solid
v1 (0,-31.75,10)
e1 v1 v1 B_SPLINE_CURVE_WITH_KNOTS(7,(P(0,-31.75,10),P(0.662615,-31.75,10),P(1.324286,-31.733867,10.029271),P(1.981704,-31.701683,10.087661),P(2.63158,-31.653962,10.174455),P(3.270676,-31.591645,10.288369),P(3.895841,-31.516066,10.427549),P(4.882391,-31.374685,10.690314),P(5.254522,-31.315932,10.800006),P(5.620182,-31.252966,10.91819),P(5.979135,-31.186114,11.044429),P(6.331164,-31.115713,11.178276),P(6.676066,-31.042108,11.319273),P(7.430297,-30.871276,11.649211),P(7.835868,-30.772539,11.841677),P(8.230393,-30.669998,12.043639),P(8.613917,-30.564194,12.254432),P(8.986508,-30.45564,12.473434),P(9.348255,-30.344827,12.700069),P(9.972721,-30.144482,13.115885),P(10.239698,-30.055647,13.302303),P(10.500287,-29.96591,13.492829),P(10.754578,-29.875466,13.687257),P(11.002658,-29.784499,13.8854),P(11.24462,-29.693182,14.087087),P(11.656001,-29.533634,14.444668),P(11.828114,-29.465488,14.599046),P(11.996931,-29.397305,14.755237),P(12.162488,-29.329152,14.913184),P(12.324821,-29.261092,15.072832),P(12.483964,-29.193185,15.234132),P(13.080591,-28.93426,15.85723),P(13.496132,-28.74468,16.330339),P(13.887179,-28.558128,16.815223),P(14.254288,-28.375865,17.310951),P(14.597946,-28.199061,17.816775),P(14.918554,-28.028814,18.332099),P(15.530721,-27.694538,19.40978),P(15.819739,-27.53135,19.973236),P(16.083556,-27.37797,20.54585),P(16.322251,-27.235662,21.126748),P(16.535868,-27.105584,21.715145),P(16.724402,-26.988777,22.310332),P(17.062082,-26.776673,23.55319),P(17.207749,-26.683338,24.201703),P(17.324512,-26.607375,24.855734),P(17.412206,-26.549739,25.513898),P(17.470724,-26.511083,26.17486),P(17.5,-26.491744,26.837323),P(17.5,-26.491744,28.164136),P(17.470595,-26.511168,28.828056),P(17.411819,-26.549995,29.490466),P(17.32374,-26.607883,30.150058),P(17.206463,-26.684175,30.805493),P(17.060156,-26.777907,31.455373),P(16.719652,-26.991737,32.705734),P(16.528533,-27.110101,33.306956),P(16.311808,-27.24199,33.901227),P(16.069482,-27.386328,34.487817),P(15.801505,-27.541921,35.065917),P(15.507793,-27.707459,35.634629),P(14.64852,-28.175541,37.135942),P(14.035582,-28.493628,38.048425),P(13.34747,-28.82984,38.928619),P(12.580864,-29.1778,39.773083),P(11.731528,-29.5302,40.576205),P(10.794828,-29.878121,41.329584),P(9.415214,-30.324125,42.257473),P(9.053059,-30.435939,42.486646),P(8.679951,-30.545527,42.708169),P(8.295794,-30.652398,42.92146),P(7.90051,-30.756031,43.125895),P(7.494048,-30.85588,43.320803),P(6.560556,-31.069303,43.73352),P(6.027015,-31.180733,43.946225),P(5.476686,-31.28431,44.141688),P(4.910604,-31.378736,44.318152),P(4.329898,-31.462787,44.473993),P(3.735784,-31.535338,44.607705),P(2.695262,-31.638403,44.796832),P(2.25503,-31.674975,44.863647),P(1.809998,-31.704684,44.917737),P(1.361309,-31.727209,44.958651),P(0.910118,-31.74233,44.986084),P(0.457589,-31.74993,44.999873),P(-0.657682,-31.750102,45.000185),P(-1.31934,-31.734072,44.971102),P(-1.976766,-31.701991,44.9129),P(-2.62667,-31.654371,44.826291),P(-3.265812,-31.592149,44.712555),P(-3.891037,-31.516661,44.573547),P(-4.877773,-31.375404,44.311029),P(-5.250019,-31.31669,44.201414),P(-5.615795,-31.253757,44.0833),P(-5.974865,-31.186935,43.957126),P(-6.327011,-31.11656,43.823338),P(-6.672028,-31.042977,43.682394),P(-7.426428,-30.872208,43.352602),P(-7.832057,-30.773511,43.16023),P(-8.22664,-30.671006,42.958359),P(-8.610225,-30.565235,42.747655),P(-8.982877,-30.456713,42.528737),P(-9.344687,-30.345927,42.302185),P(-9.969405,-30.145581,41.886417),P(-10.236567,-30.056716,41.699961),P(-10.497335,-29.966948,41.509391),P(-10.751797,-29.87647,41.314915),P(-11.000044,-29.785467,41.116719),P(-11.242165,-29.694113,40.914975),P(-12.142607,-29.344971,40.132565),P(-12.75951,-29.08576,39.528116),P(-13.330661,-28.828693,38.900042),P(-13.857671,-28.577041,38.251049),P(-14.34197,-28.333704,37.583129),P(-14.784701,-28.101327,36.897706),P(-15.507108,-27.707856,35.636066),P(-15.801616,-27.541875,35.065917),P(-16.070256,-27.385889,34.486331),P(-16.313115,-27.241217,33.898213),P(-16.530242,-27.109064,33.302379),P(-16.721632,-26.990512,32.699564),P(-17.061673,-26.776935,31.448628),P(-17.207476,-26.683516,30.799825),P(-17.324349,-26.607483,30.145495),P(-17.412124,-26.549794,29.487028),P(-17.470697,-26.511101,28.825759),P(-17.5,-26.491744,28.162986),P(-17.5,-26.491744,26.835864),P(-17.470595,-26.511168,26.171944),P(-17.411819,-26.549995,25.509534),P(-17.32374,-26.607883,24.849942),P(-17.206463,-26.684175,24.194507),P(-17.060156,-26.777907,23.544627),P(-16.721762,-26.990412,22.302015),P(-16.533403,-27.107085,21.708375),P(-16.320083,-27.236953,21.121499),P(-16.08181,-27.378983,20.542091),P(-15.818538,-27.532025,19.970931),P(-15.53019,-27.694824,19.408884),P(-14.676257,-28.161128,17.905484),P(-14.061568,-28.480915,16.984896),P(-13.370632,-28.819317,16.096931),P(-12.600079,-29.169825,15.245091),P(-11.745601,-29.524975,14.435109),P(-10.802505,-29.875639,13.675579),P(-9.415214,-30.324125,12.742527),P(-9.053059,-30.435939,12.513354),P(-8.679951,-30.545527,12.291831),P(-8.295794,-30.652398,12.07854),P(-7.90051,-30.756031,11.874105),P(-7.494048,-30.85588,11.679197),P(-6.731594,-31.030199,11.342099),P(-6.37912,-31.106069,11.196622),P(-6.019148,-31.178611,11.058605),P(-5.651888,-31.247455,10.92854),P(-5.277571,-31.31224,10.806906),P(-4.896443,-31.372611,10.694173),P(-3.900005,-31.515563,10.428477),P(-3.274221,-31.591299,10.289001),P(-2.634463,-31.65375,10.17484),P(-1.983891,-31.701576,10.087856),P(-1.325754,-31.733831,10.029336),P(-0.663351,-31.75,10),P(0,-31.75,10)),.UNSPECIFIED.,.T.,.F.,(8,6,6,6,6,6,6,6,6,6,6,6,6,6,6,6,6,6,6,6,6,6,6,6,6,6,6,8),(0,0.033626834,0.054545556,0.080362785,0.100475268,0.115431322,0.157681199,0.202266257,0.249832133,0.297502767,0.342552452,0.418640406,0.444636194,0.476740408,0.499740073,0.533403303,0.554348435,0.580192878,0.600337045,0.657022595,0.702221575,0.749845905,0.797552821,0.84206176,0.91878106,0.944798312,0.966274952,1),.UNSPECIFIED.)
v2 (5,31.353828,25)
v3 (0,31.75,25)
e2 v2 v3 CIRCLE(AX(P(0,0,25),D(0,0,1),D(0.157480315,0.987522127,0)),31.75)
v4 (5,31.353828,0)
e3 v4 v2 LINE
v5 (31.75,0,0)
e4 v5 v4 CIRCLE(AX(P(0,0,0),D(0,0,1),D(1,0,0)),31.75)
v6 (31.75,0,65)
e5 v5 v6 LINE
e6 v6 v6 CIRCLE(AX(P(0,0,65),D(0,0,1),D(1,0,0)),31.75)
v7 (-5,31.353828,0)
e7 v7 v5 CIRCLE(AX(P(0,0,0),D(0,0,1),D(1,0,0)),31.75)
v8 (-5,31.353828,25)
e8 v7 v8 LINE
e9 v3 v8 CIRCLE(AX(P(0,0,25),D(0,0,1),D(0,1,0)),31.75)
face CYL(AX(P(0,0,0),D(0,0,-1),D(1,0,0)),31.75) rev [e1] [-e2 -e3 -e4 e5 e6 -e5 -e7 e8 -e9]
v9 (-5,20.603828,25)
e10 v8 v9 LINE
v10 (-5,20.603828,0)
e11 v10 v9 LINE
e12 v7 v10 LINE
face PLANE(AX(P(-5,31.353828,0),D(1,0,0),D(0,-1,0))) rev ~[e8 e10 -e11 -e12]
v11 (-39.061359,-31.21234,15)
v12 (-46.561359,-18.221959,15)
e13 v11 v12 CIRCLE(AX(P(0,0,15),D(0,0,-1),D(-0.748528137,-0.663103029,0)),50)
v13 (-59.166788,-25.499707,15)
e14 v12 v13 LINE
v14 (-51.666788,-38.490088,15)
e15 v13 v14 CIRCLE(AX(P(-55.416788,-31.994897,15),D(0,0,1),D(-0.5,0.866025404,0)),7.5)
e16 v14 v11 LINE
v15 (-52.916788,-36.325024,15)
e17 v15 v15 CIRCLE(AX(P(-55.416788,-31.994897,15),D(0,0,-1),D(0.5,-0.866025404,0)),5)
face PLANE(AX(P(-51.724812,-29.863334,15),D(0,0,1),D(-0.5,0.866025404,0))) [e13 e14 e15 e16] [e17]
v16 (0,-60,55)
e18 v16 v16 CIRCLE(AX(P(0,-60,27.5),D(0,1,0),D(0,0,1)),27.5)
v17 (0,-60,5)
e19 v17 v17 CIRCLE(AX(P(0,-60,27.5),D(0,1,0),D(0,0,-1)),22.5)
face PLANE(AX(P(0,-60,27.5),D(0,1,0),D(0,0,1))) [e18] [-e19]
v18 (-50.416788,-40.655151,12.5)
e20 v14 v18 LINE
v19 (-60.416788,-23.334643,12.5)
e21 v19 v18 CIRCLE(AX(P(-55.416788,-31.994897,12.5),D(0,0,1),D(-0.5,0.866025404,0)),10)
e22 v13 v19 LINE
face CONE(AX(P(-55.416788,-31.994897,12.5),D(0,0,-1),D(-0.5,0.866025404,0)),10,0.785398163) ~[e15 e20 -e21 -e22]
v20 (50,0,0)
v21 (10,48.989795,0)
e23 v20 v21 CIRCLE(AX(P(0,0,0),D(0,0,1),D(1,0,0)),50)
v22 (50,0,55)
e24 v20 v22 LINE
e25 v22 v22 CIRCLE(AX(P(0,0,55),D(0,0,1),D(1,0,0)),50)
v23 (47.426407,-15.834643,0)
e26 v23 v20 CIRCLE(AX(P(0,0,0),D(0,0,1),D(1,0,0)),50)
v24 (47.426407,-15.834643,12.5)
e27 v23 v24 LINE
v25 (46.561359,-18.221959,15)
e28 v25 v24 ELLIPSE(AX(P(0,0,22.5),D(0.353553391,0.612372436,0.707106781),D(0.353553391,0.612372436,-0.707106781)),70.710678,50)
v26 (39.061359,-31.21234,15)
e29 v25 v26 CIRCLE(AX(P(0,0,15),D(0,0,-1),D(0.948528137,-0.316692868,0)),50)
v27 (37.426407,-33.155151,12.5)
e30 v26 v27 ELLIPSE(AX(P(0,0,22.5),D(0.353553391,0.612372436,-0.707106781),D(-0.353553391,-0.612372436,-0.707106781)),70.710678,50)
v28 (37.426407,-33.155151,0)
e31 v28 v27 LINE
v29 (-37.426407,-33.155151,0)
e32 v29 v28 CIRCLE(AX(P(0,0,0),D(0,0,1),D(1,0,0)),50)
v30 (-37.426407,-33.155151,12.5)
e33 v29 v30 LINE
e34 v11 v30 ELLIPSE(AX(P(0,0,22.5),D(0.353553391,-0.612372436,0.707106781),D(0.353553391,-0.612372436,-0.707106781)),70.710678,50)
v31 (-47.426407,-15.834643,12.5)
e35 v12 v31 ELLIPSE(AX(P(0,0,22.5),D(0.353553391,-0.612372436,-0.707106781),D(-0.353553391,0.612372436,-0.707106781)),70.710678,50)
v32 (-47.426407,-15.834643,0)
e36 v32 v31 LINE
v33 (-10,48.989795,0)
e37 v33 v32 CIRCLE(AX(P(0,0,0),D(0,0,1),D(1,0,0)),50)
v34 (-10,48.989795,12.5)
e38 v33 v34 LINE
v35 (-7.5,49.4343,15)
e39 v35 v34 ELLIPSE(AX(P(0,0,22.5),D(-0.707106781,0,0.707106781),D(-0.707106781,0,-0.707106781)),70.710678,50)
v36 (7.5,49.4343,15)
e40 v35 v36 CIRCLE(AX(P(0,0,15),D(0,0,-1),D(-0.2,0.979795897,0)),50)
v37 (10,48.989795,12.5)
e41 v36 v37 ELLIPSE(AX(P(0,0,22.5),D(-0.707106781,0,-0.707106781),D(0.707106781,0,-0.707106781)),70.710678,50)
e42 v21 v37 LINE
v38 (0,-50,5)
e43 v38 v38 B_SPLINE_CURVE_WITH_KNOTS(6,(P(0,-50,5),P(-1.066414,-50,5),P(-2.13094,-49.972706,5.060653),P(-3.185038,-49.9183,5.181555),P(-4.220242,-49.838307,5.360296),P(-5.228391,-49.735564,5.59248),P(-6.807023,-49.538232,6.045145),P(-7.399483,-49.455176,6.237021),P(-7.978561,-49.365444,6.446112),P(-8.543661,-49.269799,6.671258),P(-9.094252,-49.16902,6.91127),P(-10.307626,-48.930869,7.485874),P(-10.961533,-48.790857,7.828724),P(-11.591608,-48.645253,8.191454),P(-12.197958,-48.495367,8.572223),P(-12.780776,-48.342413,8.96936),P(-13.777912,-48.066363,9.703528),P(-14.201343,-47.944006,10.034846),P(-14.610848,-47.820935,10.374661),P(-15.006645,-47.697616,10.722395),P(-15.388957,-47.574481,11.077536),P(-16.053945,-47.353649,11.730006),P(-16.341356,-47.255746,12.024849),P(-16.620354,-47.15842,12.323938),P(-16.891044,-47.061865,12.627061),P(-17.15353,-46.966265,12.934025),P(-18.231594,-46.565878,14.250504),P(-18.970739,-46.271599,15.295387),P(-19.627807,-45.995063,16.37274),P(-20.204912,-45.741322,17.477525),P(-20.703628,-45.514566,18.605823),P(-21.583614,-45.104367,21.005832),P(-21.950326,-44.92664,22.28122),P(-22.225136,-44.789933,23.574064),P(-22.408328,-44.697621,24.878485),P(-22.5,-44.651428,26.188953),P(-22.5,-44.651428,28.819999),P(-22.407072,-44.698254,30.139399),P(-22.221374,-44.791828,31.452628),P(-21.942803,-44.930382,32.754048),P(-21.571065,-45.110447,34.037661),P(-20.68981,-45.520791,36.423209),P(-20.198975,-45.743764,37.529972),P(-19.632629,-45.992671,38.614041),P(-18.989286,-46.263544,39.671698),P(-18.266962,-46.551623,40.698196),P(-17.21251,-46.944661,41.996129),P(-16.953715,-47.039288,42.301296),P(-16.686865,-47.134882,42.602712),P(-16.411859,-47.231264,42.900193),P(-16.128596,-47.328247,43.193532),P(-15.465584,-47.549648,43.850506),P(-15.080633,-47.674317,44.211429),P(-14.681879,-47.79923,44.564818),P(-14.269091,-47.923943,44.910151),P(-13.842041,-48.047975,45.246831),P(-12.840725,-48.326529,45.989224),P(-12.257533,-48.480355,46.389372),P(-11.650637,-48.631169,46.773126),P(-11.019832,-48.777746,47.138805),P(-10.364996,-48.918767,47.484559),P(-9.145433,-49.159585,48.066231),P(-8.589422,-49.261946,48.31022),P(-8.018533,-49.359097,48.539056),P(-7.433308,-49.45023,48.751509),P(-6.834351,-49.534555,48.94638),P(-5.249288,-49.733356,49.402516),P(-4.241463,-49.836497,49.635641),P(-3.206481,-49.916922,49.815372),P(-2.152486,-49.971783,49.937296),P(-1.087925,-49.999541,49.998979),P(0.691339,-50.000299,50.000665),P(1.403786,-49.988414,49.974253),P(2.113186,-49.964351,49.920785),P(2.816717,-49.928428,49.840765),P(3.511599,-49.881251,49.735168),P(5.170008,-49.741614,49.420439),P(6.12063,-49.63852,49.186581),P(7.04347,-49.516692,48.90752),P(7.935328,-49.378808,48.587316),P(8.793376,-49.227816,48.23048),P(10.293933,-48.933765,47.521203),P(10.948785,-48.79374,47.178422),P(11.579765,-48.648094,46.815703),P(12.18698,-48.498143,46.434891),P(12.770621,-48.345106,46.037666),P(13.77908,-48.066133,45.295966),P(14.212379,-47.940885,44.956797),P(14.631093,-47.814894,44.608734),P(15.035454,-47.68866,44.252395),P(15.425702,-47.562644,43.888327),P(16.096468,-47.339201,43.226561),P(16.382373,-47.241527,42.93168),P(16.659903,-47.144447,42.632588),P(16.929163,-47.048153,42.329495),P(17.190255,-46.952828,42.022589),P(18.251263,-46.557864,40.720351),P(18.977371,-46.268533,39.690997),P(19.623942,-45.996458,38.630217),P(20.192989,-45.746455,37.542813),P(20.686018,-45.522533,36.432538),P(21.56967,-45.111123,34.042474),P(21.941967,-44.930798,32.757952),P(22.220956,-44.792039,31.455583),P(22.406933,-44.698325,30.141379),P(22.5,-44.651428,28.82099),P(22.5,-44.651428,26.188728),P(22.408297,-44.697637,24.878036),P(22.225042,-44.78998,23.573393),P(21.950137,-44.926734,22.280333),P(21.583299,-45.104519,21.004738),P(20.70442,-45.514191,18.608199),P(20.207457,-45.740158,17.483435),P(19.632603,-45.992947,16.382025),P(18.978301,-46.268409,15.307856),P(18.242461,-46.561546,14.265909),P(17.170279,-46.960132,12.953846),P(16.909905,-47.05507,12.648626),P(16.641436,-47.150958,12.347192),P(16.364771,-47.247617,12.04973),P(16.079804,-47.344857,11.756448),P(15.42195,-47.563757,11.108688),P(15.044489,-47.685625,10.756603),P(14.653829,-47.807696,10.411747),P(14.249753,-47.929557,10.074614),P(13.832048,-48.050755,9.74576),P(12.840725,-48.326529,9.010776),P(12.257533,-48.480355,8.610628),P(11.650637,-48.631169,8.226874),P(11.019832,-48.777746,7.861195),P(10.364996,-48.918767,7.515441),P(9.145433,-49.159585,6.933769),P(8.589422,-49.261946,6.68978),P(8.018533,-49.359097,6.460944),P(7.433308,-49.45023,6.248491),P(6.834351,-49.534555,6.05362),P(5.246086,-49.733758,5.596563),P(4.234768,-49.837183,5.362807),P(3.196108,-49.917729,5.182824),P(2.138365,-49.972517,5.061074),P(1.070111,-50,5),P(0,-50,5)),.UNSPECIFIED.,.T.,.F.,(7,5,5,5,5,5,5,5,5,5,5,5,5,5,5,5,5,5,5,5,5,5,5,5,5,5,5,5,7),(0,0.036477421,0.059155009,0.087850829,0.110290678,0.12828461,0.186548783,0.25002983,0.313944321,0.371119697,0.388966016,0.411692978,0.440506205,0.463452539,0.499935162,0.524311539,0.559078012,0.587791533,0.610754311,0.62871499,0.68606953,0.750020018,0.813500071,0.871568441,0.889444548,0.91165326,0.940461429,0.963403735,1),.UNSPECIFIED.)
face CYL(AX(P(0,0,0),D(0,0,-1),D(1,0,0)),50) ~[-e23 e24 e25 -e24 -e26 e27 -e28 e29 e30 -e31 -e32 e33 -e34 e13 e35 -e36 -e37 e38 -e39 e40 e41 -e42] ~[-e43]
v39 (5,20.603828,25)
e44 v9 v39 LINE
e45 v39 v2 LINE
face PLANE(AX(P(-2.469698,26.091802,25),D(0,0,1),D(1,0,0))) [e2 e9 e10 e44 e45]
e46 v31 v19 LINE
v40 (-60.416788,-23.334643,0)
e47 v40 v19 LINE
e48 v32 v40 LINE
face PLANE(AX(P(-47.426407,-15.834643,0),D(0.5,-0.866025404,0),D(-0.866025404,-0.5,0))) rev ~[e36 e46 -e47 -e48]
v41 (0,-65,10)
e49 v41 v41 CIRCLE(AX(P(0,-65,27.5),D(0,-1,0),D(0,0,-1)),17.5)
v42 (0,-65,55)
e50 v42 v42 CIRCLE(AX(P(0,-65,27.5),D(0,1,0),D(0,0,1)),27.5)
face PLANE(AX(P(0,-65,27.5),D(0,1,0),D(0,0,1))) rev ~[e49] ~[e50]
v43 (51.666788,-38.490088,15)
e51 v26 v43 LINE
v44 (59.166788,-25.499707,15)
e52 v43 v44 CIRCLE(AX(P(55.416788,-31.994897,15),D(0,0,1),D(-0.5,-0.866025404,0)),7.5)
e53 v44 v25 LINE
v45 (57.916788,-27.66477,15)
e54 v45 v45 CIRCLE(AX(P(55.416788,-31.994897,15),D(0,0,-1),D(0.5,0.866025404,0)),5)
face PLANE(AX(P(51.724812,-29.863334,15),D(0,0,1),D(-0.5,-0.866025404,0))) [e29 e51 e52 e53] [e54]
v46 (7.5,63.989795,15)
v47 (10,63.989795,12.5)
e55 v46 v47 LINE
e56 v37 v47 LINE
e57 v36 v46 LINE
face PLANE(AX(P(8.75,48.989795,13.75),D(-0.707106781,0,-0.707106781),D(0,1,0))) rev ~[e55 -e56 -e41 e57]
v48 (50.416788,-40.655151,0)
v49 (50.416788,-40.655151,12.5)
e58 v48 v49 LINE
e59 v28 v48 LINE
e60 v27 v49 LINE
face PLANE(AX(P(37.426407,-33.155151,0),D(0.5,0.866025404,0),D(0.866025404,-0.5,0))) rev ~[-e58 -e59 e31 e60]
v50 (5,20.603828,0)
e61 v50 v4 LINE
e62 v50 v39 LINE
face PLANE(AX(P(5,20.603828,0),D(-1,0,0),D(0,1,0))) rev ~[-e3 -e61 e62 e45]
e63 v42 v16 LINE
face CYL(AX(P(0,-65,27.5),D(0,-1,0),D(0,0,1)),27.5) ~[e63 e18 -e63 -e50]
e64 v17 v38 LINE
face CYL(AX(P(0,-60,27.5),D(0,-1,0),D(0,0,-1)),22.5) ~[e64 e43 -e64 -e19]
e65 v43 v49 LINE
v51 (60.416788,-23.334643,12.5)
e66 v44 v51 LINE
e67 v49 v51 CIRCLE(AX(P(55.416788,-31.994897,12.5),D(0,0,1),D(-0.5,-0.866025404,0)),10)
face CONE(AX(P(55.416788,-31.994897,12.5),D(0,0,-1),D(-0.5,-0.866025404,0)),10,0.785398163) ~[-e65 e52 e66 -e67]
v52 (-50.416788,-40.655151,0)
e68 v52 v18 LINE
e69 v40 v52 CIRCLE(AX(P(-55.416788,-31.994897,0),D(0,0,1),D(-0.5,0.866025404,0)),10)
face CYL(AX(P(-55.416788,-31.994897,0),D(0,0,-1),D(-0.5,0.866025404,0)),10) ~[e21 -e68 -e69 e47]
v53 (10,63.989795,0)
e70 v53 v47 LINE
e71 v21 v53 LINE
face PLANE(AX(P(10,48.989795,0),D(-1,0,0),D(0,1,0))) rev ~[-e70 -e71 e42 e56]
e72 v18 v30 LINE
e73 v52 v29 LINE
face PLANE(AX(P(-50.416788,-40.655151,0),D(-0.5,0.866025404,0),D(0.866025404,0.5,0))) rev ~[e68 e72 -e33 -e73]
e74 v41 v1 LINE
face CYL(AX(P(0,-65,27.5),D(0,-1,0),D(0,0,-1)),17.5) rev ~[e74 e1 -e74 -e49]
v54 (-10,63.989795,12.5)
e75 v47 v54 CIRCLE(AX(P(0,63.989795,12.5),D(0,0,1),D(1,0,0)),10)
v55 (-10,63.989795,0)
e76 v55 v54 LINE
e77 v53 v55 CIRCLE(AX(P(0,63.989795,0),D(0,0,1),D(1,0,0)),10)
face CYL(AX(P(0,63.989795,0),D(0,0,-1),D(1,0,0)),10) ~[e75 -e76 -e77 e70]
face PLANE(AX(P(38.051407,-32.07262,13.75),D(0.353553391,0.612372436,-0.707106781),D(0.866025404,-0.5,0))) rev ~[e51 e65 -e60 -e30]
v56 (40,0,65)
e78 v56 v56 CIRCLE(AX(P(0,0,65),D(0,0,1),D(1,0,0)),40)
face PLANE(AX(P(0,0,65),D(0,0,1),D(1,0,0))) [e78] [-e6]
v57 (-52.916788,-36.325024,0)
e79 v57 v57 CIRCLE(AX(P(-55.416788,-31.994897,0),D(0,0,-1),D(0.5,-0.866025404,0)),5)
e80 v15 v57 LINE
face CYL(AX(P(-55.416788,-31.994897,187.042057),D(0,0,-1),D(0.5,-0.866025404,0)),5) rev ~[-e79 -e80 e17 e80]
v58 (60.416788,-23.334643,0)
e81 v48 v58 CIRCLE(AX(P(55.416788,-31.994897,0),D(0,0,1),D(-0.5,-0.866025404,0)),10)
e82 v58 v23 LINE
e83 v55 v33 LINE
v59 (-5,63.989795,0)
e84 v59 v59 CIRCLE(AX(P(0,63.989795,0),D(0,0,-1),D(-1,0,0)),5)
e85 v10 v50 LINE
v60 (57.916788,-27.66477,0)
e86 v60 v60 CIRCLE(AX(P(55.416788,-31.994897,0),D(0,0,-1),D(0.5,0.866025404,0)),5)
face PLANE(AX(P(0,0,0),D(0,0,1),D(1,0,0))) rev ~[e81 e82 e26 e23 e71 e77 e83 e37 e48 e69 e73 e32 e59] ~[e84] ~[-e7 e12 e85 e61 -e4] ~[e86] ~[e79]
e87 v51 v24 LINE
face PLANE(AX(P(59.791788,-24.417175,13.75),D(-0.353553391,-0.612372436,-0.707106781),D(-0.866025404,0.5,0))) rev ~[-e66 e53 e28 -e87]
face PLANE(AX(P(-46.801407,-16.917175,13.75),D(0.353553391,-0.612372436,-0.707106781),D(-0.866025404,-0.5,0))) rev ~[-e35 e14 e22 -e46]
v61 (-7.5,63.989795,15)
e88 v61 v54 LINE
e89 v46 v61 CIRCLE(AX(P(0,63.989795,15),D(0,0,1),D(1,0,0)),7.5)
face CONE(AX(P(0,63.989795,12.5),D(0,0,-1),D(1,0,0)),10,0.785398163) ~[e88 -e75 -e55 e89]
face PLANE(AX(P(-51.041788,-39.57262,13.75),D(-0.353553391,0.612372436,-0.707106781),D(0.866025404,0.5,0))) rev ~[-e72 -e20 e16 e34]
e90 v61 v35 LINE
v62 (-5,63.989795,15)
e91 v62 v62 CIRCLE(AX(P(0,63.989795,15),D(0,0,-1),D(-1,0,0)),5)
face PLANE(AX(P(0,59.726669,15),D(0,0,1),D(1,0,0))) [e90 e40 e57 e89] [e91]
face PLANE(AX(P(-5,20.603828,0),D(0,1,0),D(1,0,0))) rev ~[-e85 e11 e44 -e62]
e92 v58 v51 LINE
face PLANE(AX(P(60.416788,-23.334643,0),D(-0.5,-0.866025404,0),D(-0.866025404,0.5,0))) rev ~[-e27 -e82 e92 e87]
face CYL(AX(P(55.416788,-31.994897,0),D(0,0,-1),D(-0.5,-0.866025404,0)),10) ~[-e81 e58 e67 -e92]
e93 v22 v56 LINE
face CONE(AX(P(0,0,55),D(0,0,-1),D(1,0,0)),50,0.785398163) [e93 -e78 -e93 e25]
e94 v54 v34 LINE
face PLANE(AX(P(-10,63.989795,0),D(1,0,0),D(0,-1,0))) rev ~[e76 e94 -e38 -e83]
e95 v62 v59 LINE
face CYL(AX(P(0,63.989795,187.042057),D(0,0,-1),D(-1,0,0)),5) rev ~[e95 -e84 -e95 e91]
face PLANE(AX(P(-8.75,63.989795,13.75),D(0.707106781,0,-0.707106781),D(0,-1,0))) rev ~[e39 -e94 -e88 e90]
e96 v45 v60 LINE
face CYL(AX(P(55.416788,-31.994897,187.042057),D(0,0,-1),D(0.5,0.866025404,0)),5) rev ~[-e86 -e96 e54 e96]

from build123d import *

# Parameters (mm, degrees)
SKETCH1_R                    = 50
SKETCH1_R_2                  = 31.75
BOSS_EXTRUDE1_DEPTH          = 65
BOSS_EXTRUDE2_DEPTH          = 25
BOSS_EXTRUDE3_DEPTH          = 15
CHAMFER2_SIZE                = 2.5
F_10_0MM_DOWEL_HOLE1_D       = 10
CIRPATTERN2_COUNT            = 3
CHAMFER2_OF_CIRPATTERN2_SIZE = 2.5
CHAMFER1_SIZE                = 10
SKETCH2_R                    = 27.5
BOSS_EXTRUDE4_DEPTH          = 5
BOSS_EXTRUDE5_REACH          = 164.658
BOSS_EXTRUDE5_END_RADIUS     = 50
SKETCH3_R                    = 22.5
CUT_EXTRUDE1_REACH           = 168.801
CUT_EXTRUDE1_END_RADIUS      = 31.75
SKETCH4_R                    = 17.5


with BuildPart() as part:
    # Sketch1 → Boss-Extrude1 (new body)
    with BuildSketch(Plane.XY):
        Circle(SKETCH1_R)
        Circle(SKETCH1_R_2, mode=Mode.SUBTRACT)
    extrude(amount=BOSS_EXTRUDE1_DEPTH)

    # Sketch1<3> → Boss-Extrude2 (add)
    with BuildSketch(Plane.XY):
        with BuildLine():
            Line((-5, 20.603827518), (0, 20.603827518))
            Line((0, 20.603827518), (0, 31.75))
            ThreePointArc((0, 31.75), (-2.507835353, 31.650801915), (-5, 31.353827518))
            Line((-5, 31.353827518), (-5, 20.603827518))
        make_face()
        with BuildLine():
            Line((0, 31.75), (0, 20.603827518))
            Line((0, 20.603827518), (5, 20.603827518))
            Line((5, 20.603827518), (5, 31.353827518))
            ThreePointArc((5, 31.353827518), (2.507835353, 31.650801915), (0, 31.75))
        make_face()
    extrude(amount=BOSS_EXTRUDE2_DEPTH)

    # Sketch1<4> → Boss-Extrude3 (add)
    with BuildSketch(Plane.XY):
        with BuildLine():
            Line((-10, 63.989794856), (-10, 48.989794856))
            ThreePointArc((-10, 48.989794856), (0, 50), (10, 48.989794856))
            Line((10, 48.989794856), (10, 63.989794856))
            ThreePointArc((10, 63.989794856), (0, 73.989794856), (-10, 63.989794856))
        make_face()
    boss_extrude3 = extrude(amount=BOSS_EXTRUDE3_DEPTH)

    # Chamfer2
    chamfer2_edges = [part.edges().sort_by_distance(p)[0] for p in [
        (0, 73.989794856, 15),
        (-10, 56.489794856, 15),
        (10, 56.489794856, 15),
    ]]
    chamfer(chamfer2_edges, length=CHAMFER2_SIZE)

    # Ø10.0mm Dowel Hole1 (through all)
    with Locations(Plane.XY.offset(15)):
        with Locations((0, 63.989794856)):
            f_10_0mm_dowel_hole1 = Hole(F_10_0MM_DOWEL_HOLE1_D / 2)

    # CirPattern2: Boss-Extrude3, Ø10.0mm Dowel Hole1 ×3 about axis
    cirpattern2_axis = Axis((0, 0, 0), (0, 0, 1))
    add([boss_extrude3.rotate(cirpattern2_axis, i * 360 / CIRPATTERN2_COUNT) for i in range(1, CIRPATTERN2_COUNT)])
    add([f_10_0mm_dowel_hole1.rotate(cirpattern2_axis, i * 360 / CIRPATTERN2_COUNT) for i in range(1, CIRPATTERN2_COUNT)], mode=Mode.SUBTRACT)

    # Chamfer2 of CirPattern2
    chamfer2_of_cirpattern2_edges = [part.edges().sort_by_distance(p)[0] for p in [
        (-64.077041966, -36.994897428, 15),
        (-43.9215974, -36.905151466, 15),
        (-53.9215974, -19.58464339, 15),
        (64.077041966, -36.994897428, 15),
        (53.9215974, -19.58464339, 15),
        (43.9215974, -36.905151466, 15),
    ]]
    chamfer(chamfer2_of_cirpattern2_edges, length=CHAMFER2_OF_CIRPATTERN2_SIZE)

    # Chamfer1
    chamfer1_edges = [part.edges().sort_by_distance(p)[0] for p in [
        (-50, 0, 65),
    ]]
    chamfer(chamfer1_edges, length=CHAMFER1_SIZE)



with BuildPart() as body_2:
    # Sketch2 → Boss-Extrude4 (new body)
    with BuildSketch(Plane(origin=(0, -65, 0), x_dir=(1, 0, 0), z_dir=(0, 1, 0))):
        with Locations(Location((0, -27.5, 0), (0, 0, 270))):
            Circle(SKETCH2_R)
    extrude(amount=BOSS_EXTRUDE4_DEPTH)


with BuildPart() as part_1:
    add(part.part)

    add(body_2.part)  # Boss-Extrude5 merges body 2
    # Boss-Extrude5: up to this cylinder (the profile starts outside it)
    boss_extrude5_end = Plane(origin=(0, 0, 27.5), z_dir=(0, 0, -1)) * Cylinder(BOSS_EXTRUDE5_END_RADIUS, 430.316, mode=Mode.PRIVATE)
    # Sketch3 → Boss-Extrude5 (add, up to the surface)
    with BuildSketch(Plane(origin=(0, -60, 0), x_dir=(1, 0, 0), z_dir=(0, 1, 0)), mode=Mode.PRIVATE) as boss_extrude5_sk1:
        with Locations(Location((0, -27.5, 0), (0, 0, 90))):
            Circle(SKETCH3_R)
    boss_extrude5_tool1 = extrude(boss_extrude5_sk1.sketch, amount=BOSS_EXTRUDE5_REACH, mode=Mode.PRIVATE) - boss_extrude5_end
    add(boss_extrude5_tool1.solids().sort_by_distance((0, -60, 27.5))[0])

    # Cut-Extrude1: up to this cylinder (the profile starts outside it)
    cut_extrude1_end = Plane(origin=(0, 0, 27.5), z_dir=(0, 0, -1)) * Cylinder(CUT_EXTRUDE1_END_RADIUS, 402.102, mode=Mode.PRIVATE)
    # Sketch4 → Cut-Extrude1 (cut, up to the surface)
    with BuildSketch(Plane.XZ.offset(65), mode=Mode.PRIVATE) as cut_extrude1_sk1:
        with Locations(Location((0, 27.5, 0), (0, 0, 270))):
            Circle(SKETCH4_R)
    cut_extrude1_tool1 = extrude(cut_extrude1_sk1.sketch, amount=-CUT_EXTRUDE1_REACH, mode=Mode.PRIVATE) - cut_extrude1_end
    add(cut_extrude1_tool1.solids().sort_by_distance((0, -65, 27.5))[0], mode=Mode.SUBTRACT)


solid = part_1.part
